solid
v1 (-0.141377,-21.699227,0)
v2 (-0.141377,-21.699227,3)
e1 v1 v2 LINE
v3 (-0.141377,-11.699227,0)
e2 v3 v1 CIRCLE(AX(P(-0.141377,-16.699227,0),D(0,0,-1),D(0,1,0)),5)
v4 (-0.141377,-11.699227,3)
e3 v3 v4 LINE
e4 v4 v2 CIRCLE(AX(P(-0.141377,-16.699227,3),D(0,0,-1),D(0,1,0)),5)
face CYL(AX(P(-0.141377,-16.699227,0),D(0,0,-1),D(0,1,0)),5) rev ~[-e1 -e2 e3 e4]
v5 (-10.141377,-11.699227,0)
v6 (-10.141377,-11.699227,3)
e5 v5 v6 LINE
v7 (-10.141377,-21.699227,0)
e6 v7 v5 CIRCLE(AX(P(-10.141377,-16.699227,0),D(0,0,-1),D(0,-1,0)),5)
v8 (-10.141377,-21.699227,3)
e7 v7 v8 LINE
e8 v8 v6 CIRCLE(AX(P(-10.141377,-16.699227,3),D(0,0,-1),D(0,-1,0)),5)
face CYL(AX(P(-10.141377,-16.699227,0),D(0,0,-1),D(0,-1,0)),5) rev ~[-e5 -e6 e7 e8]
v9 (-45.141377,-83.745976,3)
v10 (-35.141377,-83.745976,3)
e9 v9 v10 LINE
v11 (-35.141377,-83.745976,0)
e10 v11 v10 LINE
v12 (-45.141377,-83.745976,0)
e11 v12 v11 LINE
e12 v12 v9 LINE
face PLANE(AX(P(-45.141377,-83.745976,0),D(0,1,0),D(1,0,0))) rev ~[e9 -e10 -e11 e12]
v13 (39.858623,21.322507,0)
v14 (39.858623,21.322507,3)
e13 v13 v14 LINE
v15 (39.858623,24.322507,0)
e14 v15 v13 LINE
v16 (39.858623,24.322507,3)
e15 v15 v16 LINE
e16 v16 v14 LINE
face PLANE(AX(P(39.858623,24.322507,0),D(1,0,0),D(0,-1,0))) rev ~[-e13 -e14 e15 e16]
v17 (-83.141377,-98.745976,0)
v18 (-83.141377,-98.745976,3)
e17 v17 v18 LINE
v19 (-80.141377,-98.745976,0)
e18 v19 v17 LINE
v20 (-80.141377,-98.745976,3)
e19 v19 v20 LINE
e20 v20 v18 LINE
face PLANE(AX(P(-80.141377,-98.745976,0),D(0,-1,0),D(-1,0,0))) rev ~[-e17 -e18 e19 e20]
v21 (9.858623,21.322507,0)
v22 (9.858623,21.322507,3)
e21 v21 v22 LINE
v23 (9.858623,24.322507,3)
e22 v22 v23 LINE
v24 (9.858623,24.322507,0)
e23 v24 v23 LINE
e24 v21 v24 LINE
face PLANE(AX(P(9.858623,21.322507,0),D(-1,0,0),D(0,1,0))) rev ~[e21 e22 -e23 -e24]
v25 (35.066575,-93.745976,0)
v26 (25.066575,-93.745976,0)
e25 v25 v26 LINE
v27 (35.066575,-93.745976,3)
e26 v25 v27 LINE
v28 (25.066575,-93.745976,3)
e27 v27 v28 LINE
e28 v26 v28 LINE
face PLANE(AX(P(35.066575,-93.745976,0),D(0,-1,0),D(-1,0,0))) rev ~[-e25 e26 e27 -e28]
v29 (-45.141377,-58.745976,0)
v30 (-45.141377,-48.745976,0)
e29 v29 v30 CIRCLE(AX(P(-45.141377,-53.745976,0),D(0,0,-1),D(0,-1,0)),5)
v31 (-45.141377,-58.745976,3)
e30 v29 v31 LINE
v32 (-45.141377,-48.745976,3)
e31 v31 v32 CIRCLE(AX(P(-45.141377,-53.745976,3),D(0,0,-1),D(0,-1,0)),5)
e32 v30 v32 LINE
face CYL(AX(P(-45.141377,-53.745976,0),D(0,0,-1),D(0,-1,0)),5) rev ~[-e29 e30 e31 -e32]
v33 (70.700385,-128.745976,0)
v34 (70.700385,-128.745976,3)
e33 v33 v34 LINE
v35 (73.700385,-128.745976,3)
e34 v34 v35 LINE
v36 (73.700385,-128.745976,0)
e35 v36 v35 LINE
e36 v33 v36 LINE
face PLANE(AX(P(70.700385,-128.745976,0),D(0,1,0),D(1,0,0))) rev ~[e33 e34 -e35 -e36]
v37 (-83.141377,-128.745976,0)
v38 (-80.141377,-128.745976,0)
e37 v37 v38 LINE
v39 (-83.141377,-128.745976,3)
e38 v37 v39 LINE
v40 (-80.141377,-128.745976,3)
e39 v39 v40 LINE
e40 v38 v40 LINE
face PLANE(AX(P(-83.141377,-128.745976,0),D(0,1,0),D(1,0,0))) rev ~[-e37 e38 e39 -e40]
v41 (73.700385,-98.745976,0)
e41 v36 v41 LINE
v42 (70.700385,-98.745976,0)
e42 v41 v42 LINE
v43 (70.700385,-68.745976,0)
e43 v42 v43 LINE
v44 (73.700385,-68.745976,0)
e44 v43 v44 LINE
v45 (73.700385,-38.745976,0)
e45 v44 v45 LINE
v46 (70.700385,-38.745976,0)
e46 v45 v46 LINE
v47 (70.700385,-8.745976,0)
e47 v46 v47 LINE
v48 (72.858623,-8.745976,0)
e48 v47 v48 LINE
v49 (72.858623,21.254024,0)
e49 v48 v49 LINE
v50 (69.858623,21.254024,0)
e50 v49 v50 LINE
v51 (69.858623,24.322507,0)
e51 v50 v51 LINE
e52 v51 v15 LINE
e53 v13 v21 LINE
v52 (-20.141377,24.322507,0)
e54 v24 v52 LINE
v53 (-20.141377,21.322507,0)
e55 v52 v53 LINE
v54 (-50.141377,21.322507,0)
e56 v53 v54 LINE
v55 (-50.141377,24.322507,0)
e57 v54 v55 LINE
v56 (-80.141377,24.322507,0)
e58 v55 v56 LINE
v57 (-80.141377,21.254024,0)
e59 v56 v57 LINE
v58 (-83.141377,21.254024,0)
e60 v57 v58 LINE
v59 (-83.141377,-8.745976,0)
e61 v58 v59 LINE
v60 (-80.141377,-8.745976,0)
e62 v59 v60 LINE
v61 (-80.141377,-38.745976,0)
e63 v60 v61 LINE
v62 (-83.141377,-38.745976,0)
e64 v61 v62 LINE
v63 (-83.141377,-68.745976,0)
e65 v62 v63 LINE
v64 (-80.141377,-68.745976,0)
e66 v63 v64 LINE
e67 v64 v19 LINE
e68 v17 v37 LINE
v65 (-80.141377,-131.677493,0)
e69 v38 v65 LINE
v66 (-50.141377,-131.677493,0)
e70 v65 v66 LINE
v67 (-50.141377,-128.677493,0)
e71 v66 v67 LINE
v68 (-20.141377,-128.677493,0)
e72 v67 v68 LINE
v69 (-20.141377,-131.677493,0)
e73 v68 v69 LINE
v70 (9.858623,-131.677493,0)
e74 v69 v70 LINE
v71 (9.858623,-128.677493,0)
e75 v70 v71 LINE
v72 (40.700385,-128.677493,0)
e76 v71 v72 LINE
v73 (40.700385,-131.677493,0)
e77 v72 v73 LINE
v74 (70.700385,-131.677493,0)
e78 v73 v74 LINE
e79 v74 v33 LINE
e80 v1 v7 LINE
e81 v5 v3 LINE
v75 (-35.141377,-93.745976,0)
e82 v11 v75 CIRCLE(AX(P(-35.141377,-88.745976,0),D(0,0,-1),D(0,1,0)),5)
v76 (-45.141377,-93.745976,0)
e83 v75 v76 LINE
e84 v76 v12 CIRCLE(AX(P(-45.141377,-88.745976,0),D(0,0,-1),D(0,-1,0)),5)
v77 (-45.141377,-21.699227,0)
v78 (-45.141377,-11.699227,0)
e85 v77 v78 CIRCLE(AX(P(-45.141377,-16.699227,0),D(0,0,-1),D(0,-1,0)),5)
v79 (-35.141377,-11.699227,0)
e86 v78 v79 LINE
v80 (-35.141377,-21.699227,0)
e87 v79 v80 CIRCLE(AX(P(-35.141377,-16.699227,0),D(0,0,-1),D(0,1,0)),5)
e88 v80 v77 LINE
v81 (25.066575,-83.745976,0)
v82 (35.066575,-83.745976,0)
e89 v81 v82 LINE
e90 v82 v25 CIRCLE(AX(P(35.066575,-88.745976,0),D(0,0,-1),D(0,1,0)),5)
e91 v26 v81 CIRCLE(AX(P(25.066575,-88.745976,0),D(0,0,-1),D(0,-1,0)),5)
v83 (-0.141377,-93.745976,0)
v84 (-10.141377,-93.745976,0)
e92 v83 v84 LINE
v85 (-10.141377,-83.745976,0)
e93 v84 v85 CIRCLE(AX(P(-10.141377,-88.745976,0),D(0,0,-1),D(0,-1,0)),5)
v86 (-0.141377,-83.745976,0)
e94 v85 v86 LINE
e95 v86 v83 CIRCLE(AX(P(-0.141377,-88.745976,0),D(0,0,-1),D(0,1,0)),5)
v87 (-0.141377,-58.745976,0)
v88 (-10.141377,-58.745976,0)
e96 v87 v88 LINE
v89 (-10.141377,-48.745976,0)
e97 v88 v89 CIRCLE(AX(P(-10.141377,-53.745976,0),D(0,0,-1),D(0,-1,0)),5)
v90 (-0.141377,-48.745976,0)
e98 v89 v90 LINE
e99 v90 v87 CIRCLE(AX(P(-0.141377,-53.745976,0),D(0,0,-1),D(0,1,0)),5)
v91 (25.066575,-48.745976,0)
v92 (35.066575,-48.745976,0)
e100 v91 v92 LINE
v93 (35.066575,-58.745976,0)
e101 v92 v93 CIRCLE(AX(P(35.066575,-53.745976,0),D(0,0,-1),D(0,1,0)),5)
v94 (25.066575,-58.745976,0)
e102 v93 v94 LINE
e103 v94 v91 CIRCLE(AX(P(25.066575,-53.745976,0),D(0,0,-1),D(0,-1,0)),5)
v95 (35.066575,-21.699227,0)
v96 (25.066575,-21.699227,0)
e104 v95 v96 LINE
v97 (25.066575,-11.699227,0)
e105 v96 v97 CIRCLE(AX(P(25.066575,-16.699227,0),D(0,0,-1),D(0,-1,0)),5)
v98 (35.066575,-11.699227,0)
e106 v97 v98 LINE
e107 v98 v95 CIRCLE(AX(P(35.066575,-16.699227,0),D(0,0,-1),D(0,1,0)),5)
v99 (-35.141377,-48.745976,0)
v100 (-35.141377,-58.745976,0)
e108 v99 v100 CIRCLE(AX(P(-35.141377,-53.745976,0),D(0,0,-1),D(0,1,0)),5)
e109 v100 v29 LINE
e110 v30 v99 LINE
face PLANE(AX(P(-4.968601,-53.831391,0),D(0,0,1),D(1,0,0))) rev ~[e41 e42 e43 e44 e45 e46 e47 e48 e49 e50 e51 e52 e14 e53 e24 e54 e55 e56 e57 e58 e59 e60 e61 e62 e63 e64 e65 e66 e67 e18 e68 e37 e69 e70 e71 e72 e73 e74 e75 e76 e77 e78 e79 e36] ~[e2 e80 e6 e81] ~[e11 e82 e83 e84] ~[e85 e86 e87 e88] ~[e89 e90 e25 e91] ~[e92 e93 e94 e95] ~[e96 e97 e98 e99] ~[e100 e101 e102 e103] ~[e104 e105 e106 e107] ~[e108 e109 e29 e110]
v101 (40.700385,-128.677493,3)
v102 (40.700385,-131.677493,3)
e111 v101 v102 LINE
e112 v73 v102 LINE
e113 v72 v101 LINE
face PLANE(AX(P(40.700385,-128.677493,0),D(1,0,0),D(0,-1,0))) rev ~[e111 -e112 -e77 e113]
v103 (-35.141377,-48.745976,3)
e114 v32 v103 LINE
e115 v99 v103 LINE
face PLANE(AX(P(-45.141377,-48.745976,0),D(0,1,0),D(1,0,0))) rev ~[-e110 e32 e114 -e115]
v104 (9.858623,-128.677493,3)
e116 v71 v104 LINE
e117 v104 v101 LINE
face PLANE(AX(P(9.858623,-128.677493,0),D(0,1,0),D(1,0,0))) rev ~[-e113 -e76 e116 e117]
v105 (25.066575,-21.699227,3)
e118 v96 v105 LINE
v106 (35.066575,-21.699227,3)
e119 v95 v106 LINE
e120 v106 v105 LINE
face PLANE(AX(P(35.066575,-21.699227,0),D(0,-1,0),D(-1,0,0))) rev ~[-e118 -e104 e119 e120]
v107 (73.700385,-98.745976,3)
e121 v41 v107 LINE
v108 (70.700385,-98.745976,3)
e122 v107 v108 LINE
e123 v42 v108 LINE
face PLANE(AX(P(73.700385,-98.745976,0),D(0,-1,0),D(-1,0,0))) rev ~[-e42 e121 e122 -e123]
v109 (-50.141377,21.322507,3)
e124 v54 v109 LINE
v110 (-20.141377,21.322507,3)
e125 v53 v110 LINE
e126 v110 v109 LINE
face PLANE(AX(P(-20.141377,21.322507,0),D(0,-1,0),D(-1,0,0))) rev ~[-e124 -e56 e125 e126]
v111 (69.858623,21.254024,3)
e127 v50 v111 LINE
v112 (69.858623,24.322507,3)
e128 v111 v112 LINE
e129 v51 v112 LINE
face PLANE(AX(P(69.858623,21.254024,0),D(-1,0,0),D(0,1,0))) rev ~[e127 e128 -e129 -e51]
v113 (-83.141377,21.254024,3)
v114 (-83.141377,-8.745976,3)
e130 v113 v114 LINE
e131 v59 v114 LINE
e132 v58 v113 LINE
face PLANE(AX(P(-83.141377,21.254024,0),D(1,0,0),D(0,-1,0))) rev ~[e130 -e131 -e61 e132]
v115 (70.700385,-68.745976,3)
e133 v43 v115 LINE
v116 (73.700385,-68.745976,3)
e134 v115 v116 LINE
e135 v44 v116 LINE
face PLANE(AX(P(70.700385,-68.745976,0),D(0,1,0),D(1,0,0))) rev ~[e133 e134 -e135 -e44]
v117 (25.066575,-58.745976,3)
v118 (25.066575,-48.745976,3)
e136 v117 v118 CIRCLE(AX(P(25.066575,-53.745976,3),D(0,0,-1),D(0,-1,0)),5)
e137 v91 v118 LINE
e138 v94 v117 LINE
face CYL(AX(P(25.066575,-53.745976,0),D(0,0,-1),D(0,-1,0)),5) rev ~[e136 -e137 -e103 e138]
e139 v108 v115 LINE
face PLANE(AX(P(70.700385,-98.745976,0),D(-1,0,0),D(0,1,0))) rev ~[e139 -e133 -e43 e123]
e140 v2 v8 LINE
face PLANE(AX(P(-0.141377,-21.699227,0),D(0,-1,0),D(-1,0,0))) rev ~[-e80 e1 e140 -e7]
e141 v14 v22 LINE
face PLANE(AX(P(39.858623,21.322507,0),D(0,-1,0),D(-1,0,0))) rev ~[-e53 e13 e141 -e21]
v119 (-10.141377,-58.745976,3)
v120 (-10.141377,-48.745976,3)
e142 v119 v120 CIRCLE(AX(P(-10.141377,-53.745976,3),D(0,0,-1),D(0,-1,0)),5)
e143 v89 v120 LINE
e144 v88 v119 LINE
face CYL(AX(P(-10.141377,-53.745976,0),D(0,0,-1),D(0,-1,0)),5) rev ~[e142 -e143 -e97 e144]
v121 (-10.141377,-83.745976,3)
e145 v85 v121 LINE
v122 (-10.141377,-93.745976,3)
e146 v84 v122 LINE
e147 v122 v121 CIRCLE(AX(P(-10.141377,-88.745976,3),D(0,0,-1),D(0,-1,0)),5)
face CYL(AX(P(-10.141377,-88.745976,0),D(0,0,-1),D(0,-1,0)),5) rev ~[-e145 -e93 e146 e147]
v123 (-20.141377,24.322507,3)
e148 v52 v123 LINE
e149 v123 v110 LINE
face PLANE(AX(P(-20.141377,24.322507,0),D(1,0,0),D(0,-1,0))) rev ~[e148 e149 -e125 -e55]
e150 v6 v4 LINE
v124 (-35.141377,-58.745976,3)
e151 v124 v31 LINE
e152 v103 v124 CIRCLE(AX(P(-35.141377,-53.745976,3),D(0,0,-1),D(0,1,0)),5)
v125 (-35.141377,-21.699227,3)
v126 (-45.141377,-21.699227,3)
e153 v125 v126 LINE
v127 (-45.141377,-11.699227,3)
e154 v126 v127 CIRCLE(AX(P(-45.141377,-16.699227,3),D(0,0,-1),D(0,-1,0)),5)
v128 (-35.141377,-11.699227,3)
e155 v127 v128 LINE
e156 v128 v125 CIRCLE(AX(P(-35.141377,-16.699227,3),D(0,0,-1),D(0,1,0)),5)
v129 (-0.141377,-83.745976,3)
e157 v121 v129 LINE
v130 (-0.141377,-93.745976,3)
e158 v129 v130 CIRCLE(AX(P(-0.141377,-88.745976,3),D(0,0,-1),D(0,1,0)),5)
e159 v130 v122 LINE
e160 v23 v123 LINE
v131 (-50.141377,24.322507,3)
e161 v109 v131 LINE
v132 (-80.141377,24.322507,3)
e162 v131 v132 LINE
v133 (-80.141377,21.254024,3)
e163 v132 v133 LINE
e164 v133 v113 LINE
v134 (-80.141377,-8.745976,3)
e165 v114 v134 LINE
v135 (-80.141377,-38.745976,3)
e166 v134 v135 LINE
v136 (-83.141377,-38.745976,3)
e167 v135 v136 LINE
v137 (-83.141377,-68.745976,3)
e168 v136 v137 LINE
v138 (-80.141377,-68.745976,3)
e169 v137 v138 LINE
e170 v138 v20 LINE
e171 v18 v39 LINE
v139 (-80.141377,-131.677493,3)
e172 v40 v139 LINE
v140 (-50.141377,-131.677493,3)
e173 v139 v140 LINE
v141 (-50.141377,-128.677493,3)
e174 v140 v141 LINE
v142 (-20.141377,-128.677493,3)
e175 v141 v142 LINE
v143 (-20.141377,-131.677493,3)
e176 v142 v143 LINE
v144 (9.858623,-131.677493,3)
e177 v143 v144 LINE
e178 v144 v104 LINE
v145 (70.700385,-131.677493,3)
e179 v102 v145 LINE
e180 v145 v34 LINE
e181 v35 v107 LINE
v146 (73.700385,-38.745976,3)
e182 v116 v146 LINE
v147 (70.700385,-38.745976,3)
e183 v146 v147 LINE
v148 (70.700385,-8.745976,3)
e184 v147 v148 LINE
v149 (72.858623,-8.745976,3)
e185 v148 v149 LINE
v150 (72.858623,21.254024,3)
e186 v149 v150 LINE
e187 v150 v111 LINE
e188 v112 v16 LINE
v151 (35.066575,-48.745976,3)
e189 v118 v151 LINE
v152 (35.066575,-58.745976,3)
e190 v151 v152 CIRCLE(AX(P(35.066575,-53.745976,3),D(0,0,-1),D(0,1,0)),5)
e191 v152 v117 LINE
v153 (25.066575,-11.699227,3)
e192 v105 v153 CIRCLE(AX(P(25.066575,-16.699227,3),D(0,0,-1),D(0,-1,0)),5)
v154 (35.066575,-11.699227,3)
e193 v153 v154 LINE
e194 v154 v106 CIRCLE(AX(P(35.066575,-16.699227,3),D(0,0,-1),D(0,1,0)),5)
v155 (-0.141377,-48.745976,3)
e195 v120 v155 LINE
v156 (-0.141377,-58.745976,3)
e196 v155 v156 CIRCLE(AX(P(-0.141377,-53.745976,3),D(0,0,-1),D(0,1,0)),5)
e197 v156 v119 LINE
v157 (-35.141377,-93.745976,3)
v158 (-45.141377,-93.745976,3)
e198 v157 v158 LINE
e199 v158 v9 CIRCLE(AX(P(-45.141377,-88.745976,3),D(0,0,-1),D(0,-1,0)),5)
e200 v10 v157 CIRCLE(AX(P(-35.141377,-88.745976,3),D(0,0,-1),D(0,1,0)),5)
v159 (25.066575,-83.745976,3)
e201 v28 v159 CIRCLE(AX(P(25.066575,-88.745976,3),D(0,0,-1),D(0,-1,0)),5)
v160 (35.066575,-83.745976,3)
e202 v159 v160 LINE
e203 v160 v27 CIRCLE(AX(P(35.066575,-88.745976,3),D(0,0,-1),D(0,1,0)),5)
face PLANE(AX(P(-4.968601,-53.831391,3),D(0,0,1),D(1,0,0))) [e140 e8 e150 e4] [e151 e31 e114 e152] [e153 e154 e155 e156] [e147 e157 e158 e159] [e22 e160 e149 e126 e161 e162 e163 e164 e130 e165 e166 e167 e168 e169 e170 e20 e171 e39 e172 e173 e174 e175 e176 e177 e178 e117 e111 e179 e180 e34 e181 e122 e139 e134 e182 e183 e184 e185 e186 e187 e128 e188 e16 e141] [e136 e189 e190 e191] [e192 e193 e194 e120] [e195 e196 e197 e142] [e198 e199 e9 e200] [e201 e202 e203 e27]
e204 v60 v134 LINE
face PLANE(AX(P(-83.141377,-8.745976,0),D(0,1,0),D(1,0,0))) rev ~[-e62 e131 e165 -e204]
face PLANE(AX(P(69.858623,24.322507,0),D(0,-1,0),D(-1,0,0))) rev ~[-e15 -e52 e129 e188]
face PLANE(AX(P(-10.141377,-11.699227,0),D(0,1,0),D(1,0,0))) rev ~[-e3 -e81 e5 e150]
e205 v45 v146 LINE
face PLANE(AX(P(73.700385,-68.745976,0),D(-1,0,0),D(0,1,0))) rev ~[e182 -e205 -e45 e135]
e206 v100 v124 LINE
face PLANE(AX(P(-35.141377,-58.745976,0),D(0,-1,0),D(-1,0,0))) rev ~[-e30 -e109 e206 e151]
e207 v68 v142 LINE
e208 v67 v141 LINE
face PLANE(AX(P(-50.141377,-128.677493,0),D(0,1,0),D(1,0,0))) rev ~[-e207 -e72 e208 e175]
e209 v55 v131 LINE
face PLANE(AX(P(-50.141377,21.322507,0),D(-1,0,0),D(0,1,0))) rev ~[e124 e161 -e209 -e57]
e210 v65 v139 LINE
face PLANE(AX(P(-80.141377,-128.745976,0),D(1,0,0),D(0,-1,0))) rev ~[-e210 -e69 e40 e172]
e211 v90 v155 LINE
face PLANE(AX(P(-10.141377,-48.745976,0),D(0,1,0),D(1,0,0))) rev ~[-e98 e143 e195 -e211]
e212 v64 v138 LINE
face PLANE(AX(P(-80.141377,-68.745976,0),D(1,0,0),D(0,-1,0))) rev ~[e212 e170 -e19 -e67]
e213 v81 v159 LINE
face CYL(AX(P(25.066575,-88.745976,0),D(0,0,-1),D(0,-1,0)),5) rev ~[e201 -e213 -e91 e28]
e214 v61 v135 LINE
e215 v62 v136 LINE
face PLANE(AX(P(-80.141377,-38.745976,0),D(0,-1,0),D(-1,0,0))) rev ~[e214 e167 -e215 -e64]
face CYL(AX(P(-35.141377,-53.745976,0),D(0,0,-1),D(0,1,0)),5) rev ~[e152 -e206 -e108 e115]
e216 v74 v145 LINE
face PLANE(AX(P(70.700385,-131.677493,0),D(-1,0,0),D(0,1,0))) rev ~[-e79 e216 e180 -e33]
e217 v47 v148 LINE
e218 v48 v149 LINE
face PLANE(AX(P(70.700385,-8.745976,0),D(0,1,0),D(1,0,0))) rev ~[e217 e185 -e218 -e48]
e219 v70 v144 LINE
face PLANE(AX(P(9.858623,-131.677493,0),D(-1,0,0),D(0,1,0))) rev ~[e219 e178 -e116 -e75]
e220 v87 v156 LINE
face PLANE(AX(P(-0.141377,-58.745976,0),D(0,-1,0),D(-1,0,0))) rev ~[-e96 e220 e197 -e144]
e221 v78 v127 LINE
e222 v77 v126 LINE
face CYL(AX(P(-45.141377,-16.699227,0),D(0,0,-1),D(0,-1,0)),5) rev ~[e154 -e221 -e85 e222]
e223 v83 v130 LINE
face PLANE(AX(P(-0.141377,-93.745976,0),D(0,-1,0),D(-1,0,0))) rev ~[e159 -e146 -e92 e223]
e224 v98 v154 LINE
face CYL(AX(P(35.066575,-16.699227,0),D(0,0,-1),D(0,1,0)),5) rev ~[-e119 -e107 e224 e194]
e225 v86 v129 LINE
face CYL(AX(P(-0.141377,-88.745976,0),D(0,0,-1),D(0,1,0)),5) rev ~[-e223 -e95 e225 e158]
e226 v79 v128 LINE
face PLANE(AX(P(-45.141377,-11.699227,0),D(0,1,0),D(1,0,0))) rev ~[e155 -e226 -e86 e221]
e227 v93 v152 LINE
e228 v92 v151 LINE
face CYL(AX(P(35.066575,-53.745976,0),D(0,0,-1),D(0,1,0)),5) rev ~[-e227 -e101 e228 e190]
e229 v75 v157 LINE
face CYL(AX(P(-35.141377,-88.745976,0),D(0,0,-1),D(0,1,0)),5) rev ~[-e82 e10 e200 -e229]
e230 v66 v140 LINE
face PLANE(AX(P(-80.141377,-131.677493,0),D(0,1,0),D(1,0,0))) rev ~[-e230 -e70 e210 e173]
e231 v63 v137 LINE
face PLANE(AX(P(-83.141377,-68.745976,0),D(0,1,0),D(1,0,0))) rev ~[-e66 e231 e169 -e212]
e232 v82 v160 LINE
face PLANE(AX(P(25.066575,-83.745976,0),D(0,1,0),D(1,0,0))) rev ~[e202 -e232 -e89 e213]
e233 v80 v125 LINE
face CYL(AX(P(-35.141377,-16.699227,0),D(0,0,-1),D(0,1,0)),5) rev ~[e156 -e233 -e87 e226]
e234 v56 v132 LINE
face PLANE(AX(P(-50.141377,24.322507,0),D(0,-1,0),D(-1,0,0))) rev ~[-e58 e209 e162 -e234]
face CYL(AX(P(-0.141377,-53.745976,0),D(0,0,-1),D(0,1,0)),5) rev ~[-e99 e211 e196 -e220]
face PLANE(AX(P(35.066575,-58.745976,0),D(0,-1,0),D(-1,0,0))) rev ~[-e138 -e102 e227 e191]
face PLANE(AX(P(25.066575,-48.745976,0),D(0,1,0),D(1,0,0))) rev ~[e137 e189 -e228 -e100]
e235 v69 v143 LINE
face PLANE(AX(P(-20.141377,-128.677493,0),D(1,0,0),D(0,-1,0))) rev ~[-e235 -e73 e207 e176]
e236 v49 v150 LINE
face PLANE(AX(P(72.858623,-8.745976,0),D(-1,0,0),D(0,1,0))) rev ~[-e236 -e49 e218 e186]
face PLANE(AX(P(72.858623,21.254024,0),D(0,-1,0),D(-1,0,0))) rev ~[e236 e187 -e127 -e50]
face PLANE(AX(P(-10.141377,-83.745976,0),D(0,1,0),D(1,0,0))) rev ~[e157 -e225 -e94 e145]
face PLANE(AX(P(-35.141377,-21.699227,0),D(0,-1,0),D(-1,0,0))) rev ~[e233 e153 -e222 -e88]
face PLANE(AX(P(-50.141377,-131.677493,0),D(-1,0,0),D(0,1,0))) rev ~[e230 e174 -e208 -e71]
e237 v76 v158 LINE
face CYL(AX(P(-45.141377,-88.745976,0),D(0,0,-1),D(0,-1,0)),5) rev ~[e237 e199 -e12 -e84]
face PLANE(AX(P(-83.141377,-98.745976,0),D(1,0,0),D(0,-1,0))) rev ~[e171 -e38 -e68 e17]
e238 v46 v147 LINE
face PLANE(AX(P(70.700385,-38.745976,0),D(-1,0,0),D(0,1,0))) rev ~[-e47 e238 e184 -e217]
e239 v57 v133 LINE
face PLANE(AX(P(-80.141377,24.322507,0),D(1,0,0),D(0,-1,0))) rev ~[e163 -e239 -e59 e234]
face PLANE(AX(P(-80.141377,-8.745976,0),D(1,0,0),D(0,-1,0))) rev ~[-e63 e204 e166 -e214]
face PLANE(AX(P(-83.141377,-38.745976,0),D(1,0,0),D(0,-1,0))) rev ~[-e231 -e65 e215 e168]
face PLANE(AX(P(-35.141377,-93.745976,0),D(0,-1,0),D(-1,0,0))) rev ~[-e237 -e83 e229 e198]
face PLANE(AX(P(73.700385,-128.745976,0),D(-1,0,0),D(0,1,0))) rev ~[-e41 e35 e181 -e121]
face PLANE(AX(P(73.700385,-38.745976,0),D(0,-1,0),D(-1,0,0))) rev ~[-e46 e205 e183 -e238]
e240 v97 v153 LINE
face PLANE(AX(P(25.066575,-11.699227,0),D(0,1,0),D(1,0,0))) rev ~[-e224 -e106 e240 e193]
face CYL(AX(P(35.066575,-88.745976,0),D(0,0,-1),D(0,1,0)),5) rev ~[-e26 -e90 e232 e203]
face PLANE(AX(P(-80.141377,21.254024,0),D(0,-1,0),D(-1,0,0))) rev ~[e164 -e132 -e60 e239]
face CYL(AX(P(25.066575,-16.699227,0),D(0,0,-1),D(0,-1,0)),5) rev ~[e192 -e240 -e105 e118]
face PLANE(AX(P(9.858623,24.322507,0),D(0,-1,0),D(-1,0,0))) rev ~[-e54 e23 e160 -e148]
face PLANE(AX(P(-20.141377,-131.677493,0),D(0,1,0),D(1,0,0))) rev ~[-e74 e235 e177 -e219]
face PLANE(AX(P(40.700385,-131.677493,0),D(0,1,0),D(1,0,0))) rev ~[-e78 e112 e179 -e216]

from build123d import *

# Parameters (mm, degrees)
RESSALTO_EXTRUS_O1_DEPTH = 3


with BuildPart() as part:
    # Esboço1 → Ressalto-extrusão1 (new body)
    with BuildSketch(Plane.XY):
        Polygon((-80.141377403, 21.254023913), (-83.141377403, 21.254023913), (-83.141377403, -8.745976087), (-80.141377403, -8.745976087), (-80.141377403, -38.745976087), (-83.141377403, -38.745976087), (-83.141377403, -68.745976087), (-80.141377403, -68.745976087), (-80.141377403, -98.745976087), (-83.141377403, -98.745976087), (-83.141377403, -128.745976087), (-80.141377403, -128.745976087), (-80.141377403, -131.677493187), (-50.141377403, -131.677493187), (-50.141377403, -128.677493187), (-20.141377403, -128.677493187), (-20.141377403, -131.677493187), (9.858622597, -131.677493187), (9.858622597, -128.677493187), (40.700385396, -128.677493187), (40.700385396, -131.677493187), (70.700385396, -131.677493187), (70.700385396, -128.745976087), (73.700385396, -128.745976087), (73.700385396, -98.745976087), (70.700385396, -98.745976087), (70.700385396, -68.745976087), (73.700385396, -68.745976087), (73.700385396, -38.745976087), (70.700385396, -38.745976087), (70.700385396, -8.745976087), (72.858622597, -8.745976087), (72.858622597, 21.254023913), (69.858622597, 21.254023913), (69.858622597, 24.322506813), (39.858622597, 24.322506813), (39.858622597, 21.322506813), (9.858622597, 21.322506813), (9.858622597, 24.322506813), (-20.141377403, 24.322506813), (-20.141377403, 21.322506813), (-50.141377403, 21.322506813), (-50.141377403, 24.322506813), (-80.141377403, 24.322506813), align=None)
        with BuildLine():
            Line((35.066575056, -21.699226817), (25.066575056, -21.699226817))
            ThreePointArc((25.066575056, -21.699226817), (20.066575056, -16.699226817), (25.066575056, -11.699226817))
            Line((25.066575056, -11.699226817), (35.066575056, -11.699226817))
            ThreePointArc((35.066575056, -11.699226817), (40.066575056, -16.699226817), (35.066575056, -21.699226817))
        make_face(mode=Mode.SUBTRACT)
        with BuildLine():
            Line((-0.141377403, -21.699226817), (-10.141377403, -21.699226817))
            ThreePointArc((-10.141377403, -21.699226817), (-15.141377403, -16.699226817), (-10.141377403, -11.699226817))
            Line((-10.141377403, -11.699226817), (-0.141377403, -11.699226817))
            ThreePointArc((-0.141377403, -11.699226817), (4.858622597, -16.699226817), (-0.141377403, -21.699226817))
        make_face(mode=Mode.SUBTRACT)
        with BuildLine():
            Line((-35.141377403, -21.699226817), (-45.141377403, -21.699226817))
            ThreePointArc((-45.141377403, -21.699226817), (-50.141377403, -16.699226817), (-45.141377403, -11.699226817))
            Line((-45.141377403, -11.699226817), (-35.141377403, -11.699226817))
            ThreePointArc((-35.141377403, -11.699226817), (-30.141377403, -16.699226817), (-35.141377403, -21.699226817))
        make_face(mode=Mode.SUBTRACT)
        with BuildLine():
            Line((35.066575056, -58.745976087), (25.066575056, -58.745976087))
            ThreePointArc((25.066575056, -58.745976087), (20.066575056, -53.745976087), (25.066575056, -48.745976087))
            Line((25.066575056, -48.745976087), (35.066575056, -48.745976087))
            ThreePointArc((35.066575056, -48.745976087), (40.066575056, -53.745976087), (35.066575056, -58.745976087))
        make_face(mode=Mode.SUBTRACT)
        with BuildLine():
            Line((-0.141377403, -58.745976087), (-10.141377403, -58.745976087))
            ThreePointArc((-10.141377403, -58.745976087), (-15.141377403, -53.745976087), (-10.141377403, -48.745976087))
            Line((-10.141377403, -48.745976087), (-0.141377403, -48.745976087))
            ThreePointArc((-0.141377403, -48.745976087), (4.858622597, -53.745976087), (-0.141377403, -58.745976087))
        make_face(mode=Mode.SUBTRACT)
        with BuildLine():
            Line((-35.141377403, -58.745976087), (-45.141377403, -58.745976087))
            ThreePointArc((-45.141377403, -58.745976087), (-50.141377403, -53.745976087), (-45.141377403, -48.745976087))
            Line((-45.141377403, -48.745976087), (-35.141377403, -48.745976087))
            ThreePointArc((-35.141377403, -48.745976087), (-30.141377403, -53.745976087), (-35.141377403, -58.745976087))
        make_face(mode=Mode.SUBTRACT)
        with BuildLine():
            Line((35.066575056, -93.745976087), (25.066575056, -93.745976087))
            ThreePointArc((25.066575056, -93.745976087), (20.066575056, -88.745976087), (25.066575056, -83.745976087))
            Line((25.066575056, -83.745976087), (35.066575056, -83.745976087))
            ThreePointArc((35.066575056, -83.745976087), (40.066575056, -88.745976087), (35.066575056, -93.745976087))
        make_face(mode=Mode.SUBTRACT)
        with BuildLine():
            Line((-0.141377403, -93.745976087), (-10.141377403, -93.745976087))
            ThreePointArc((-10.141377403, -93.745976087), (-15.141377403, -88.745976087), (-10.141377403, -83.745976087))
            Line((-10.141377403, -83.745976087), (-0.141377403, -83.745976087))
            ThreePointArc((-0.141377403, -83.745976087), (4.858622597, -88.745976087), (-0.141377403, -93.745976087))
        make_face(mode=Mode.SUBTRACT)
        with BuildLine():
            Line((-35.141377403, -93.745976087), (-45.141377403, -93.745976087))
            ThreePointArc((-45.141377403, -93.745976087), (-50.141377403, -88.745976087), (-45.141377403, -83.745976087))
            Line((-45.141377403, -83.745976087), (-35.141377403, -83.745976087))
            ThreePointArc((-35.141377403, -83.745976087), (-30.141377403, -88.745976087), (-35.141377403, -93.745976087))
        make_face(mode=Mode.SUBTRACT)
    extrude(amount=RESSALTO_EXTRUS_O1_DEPTH)


solid = part.part
